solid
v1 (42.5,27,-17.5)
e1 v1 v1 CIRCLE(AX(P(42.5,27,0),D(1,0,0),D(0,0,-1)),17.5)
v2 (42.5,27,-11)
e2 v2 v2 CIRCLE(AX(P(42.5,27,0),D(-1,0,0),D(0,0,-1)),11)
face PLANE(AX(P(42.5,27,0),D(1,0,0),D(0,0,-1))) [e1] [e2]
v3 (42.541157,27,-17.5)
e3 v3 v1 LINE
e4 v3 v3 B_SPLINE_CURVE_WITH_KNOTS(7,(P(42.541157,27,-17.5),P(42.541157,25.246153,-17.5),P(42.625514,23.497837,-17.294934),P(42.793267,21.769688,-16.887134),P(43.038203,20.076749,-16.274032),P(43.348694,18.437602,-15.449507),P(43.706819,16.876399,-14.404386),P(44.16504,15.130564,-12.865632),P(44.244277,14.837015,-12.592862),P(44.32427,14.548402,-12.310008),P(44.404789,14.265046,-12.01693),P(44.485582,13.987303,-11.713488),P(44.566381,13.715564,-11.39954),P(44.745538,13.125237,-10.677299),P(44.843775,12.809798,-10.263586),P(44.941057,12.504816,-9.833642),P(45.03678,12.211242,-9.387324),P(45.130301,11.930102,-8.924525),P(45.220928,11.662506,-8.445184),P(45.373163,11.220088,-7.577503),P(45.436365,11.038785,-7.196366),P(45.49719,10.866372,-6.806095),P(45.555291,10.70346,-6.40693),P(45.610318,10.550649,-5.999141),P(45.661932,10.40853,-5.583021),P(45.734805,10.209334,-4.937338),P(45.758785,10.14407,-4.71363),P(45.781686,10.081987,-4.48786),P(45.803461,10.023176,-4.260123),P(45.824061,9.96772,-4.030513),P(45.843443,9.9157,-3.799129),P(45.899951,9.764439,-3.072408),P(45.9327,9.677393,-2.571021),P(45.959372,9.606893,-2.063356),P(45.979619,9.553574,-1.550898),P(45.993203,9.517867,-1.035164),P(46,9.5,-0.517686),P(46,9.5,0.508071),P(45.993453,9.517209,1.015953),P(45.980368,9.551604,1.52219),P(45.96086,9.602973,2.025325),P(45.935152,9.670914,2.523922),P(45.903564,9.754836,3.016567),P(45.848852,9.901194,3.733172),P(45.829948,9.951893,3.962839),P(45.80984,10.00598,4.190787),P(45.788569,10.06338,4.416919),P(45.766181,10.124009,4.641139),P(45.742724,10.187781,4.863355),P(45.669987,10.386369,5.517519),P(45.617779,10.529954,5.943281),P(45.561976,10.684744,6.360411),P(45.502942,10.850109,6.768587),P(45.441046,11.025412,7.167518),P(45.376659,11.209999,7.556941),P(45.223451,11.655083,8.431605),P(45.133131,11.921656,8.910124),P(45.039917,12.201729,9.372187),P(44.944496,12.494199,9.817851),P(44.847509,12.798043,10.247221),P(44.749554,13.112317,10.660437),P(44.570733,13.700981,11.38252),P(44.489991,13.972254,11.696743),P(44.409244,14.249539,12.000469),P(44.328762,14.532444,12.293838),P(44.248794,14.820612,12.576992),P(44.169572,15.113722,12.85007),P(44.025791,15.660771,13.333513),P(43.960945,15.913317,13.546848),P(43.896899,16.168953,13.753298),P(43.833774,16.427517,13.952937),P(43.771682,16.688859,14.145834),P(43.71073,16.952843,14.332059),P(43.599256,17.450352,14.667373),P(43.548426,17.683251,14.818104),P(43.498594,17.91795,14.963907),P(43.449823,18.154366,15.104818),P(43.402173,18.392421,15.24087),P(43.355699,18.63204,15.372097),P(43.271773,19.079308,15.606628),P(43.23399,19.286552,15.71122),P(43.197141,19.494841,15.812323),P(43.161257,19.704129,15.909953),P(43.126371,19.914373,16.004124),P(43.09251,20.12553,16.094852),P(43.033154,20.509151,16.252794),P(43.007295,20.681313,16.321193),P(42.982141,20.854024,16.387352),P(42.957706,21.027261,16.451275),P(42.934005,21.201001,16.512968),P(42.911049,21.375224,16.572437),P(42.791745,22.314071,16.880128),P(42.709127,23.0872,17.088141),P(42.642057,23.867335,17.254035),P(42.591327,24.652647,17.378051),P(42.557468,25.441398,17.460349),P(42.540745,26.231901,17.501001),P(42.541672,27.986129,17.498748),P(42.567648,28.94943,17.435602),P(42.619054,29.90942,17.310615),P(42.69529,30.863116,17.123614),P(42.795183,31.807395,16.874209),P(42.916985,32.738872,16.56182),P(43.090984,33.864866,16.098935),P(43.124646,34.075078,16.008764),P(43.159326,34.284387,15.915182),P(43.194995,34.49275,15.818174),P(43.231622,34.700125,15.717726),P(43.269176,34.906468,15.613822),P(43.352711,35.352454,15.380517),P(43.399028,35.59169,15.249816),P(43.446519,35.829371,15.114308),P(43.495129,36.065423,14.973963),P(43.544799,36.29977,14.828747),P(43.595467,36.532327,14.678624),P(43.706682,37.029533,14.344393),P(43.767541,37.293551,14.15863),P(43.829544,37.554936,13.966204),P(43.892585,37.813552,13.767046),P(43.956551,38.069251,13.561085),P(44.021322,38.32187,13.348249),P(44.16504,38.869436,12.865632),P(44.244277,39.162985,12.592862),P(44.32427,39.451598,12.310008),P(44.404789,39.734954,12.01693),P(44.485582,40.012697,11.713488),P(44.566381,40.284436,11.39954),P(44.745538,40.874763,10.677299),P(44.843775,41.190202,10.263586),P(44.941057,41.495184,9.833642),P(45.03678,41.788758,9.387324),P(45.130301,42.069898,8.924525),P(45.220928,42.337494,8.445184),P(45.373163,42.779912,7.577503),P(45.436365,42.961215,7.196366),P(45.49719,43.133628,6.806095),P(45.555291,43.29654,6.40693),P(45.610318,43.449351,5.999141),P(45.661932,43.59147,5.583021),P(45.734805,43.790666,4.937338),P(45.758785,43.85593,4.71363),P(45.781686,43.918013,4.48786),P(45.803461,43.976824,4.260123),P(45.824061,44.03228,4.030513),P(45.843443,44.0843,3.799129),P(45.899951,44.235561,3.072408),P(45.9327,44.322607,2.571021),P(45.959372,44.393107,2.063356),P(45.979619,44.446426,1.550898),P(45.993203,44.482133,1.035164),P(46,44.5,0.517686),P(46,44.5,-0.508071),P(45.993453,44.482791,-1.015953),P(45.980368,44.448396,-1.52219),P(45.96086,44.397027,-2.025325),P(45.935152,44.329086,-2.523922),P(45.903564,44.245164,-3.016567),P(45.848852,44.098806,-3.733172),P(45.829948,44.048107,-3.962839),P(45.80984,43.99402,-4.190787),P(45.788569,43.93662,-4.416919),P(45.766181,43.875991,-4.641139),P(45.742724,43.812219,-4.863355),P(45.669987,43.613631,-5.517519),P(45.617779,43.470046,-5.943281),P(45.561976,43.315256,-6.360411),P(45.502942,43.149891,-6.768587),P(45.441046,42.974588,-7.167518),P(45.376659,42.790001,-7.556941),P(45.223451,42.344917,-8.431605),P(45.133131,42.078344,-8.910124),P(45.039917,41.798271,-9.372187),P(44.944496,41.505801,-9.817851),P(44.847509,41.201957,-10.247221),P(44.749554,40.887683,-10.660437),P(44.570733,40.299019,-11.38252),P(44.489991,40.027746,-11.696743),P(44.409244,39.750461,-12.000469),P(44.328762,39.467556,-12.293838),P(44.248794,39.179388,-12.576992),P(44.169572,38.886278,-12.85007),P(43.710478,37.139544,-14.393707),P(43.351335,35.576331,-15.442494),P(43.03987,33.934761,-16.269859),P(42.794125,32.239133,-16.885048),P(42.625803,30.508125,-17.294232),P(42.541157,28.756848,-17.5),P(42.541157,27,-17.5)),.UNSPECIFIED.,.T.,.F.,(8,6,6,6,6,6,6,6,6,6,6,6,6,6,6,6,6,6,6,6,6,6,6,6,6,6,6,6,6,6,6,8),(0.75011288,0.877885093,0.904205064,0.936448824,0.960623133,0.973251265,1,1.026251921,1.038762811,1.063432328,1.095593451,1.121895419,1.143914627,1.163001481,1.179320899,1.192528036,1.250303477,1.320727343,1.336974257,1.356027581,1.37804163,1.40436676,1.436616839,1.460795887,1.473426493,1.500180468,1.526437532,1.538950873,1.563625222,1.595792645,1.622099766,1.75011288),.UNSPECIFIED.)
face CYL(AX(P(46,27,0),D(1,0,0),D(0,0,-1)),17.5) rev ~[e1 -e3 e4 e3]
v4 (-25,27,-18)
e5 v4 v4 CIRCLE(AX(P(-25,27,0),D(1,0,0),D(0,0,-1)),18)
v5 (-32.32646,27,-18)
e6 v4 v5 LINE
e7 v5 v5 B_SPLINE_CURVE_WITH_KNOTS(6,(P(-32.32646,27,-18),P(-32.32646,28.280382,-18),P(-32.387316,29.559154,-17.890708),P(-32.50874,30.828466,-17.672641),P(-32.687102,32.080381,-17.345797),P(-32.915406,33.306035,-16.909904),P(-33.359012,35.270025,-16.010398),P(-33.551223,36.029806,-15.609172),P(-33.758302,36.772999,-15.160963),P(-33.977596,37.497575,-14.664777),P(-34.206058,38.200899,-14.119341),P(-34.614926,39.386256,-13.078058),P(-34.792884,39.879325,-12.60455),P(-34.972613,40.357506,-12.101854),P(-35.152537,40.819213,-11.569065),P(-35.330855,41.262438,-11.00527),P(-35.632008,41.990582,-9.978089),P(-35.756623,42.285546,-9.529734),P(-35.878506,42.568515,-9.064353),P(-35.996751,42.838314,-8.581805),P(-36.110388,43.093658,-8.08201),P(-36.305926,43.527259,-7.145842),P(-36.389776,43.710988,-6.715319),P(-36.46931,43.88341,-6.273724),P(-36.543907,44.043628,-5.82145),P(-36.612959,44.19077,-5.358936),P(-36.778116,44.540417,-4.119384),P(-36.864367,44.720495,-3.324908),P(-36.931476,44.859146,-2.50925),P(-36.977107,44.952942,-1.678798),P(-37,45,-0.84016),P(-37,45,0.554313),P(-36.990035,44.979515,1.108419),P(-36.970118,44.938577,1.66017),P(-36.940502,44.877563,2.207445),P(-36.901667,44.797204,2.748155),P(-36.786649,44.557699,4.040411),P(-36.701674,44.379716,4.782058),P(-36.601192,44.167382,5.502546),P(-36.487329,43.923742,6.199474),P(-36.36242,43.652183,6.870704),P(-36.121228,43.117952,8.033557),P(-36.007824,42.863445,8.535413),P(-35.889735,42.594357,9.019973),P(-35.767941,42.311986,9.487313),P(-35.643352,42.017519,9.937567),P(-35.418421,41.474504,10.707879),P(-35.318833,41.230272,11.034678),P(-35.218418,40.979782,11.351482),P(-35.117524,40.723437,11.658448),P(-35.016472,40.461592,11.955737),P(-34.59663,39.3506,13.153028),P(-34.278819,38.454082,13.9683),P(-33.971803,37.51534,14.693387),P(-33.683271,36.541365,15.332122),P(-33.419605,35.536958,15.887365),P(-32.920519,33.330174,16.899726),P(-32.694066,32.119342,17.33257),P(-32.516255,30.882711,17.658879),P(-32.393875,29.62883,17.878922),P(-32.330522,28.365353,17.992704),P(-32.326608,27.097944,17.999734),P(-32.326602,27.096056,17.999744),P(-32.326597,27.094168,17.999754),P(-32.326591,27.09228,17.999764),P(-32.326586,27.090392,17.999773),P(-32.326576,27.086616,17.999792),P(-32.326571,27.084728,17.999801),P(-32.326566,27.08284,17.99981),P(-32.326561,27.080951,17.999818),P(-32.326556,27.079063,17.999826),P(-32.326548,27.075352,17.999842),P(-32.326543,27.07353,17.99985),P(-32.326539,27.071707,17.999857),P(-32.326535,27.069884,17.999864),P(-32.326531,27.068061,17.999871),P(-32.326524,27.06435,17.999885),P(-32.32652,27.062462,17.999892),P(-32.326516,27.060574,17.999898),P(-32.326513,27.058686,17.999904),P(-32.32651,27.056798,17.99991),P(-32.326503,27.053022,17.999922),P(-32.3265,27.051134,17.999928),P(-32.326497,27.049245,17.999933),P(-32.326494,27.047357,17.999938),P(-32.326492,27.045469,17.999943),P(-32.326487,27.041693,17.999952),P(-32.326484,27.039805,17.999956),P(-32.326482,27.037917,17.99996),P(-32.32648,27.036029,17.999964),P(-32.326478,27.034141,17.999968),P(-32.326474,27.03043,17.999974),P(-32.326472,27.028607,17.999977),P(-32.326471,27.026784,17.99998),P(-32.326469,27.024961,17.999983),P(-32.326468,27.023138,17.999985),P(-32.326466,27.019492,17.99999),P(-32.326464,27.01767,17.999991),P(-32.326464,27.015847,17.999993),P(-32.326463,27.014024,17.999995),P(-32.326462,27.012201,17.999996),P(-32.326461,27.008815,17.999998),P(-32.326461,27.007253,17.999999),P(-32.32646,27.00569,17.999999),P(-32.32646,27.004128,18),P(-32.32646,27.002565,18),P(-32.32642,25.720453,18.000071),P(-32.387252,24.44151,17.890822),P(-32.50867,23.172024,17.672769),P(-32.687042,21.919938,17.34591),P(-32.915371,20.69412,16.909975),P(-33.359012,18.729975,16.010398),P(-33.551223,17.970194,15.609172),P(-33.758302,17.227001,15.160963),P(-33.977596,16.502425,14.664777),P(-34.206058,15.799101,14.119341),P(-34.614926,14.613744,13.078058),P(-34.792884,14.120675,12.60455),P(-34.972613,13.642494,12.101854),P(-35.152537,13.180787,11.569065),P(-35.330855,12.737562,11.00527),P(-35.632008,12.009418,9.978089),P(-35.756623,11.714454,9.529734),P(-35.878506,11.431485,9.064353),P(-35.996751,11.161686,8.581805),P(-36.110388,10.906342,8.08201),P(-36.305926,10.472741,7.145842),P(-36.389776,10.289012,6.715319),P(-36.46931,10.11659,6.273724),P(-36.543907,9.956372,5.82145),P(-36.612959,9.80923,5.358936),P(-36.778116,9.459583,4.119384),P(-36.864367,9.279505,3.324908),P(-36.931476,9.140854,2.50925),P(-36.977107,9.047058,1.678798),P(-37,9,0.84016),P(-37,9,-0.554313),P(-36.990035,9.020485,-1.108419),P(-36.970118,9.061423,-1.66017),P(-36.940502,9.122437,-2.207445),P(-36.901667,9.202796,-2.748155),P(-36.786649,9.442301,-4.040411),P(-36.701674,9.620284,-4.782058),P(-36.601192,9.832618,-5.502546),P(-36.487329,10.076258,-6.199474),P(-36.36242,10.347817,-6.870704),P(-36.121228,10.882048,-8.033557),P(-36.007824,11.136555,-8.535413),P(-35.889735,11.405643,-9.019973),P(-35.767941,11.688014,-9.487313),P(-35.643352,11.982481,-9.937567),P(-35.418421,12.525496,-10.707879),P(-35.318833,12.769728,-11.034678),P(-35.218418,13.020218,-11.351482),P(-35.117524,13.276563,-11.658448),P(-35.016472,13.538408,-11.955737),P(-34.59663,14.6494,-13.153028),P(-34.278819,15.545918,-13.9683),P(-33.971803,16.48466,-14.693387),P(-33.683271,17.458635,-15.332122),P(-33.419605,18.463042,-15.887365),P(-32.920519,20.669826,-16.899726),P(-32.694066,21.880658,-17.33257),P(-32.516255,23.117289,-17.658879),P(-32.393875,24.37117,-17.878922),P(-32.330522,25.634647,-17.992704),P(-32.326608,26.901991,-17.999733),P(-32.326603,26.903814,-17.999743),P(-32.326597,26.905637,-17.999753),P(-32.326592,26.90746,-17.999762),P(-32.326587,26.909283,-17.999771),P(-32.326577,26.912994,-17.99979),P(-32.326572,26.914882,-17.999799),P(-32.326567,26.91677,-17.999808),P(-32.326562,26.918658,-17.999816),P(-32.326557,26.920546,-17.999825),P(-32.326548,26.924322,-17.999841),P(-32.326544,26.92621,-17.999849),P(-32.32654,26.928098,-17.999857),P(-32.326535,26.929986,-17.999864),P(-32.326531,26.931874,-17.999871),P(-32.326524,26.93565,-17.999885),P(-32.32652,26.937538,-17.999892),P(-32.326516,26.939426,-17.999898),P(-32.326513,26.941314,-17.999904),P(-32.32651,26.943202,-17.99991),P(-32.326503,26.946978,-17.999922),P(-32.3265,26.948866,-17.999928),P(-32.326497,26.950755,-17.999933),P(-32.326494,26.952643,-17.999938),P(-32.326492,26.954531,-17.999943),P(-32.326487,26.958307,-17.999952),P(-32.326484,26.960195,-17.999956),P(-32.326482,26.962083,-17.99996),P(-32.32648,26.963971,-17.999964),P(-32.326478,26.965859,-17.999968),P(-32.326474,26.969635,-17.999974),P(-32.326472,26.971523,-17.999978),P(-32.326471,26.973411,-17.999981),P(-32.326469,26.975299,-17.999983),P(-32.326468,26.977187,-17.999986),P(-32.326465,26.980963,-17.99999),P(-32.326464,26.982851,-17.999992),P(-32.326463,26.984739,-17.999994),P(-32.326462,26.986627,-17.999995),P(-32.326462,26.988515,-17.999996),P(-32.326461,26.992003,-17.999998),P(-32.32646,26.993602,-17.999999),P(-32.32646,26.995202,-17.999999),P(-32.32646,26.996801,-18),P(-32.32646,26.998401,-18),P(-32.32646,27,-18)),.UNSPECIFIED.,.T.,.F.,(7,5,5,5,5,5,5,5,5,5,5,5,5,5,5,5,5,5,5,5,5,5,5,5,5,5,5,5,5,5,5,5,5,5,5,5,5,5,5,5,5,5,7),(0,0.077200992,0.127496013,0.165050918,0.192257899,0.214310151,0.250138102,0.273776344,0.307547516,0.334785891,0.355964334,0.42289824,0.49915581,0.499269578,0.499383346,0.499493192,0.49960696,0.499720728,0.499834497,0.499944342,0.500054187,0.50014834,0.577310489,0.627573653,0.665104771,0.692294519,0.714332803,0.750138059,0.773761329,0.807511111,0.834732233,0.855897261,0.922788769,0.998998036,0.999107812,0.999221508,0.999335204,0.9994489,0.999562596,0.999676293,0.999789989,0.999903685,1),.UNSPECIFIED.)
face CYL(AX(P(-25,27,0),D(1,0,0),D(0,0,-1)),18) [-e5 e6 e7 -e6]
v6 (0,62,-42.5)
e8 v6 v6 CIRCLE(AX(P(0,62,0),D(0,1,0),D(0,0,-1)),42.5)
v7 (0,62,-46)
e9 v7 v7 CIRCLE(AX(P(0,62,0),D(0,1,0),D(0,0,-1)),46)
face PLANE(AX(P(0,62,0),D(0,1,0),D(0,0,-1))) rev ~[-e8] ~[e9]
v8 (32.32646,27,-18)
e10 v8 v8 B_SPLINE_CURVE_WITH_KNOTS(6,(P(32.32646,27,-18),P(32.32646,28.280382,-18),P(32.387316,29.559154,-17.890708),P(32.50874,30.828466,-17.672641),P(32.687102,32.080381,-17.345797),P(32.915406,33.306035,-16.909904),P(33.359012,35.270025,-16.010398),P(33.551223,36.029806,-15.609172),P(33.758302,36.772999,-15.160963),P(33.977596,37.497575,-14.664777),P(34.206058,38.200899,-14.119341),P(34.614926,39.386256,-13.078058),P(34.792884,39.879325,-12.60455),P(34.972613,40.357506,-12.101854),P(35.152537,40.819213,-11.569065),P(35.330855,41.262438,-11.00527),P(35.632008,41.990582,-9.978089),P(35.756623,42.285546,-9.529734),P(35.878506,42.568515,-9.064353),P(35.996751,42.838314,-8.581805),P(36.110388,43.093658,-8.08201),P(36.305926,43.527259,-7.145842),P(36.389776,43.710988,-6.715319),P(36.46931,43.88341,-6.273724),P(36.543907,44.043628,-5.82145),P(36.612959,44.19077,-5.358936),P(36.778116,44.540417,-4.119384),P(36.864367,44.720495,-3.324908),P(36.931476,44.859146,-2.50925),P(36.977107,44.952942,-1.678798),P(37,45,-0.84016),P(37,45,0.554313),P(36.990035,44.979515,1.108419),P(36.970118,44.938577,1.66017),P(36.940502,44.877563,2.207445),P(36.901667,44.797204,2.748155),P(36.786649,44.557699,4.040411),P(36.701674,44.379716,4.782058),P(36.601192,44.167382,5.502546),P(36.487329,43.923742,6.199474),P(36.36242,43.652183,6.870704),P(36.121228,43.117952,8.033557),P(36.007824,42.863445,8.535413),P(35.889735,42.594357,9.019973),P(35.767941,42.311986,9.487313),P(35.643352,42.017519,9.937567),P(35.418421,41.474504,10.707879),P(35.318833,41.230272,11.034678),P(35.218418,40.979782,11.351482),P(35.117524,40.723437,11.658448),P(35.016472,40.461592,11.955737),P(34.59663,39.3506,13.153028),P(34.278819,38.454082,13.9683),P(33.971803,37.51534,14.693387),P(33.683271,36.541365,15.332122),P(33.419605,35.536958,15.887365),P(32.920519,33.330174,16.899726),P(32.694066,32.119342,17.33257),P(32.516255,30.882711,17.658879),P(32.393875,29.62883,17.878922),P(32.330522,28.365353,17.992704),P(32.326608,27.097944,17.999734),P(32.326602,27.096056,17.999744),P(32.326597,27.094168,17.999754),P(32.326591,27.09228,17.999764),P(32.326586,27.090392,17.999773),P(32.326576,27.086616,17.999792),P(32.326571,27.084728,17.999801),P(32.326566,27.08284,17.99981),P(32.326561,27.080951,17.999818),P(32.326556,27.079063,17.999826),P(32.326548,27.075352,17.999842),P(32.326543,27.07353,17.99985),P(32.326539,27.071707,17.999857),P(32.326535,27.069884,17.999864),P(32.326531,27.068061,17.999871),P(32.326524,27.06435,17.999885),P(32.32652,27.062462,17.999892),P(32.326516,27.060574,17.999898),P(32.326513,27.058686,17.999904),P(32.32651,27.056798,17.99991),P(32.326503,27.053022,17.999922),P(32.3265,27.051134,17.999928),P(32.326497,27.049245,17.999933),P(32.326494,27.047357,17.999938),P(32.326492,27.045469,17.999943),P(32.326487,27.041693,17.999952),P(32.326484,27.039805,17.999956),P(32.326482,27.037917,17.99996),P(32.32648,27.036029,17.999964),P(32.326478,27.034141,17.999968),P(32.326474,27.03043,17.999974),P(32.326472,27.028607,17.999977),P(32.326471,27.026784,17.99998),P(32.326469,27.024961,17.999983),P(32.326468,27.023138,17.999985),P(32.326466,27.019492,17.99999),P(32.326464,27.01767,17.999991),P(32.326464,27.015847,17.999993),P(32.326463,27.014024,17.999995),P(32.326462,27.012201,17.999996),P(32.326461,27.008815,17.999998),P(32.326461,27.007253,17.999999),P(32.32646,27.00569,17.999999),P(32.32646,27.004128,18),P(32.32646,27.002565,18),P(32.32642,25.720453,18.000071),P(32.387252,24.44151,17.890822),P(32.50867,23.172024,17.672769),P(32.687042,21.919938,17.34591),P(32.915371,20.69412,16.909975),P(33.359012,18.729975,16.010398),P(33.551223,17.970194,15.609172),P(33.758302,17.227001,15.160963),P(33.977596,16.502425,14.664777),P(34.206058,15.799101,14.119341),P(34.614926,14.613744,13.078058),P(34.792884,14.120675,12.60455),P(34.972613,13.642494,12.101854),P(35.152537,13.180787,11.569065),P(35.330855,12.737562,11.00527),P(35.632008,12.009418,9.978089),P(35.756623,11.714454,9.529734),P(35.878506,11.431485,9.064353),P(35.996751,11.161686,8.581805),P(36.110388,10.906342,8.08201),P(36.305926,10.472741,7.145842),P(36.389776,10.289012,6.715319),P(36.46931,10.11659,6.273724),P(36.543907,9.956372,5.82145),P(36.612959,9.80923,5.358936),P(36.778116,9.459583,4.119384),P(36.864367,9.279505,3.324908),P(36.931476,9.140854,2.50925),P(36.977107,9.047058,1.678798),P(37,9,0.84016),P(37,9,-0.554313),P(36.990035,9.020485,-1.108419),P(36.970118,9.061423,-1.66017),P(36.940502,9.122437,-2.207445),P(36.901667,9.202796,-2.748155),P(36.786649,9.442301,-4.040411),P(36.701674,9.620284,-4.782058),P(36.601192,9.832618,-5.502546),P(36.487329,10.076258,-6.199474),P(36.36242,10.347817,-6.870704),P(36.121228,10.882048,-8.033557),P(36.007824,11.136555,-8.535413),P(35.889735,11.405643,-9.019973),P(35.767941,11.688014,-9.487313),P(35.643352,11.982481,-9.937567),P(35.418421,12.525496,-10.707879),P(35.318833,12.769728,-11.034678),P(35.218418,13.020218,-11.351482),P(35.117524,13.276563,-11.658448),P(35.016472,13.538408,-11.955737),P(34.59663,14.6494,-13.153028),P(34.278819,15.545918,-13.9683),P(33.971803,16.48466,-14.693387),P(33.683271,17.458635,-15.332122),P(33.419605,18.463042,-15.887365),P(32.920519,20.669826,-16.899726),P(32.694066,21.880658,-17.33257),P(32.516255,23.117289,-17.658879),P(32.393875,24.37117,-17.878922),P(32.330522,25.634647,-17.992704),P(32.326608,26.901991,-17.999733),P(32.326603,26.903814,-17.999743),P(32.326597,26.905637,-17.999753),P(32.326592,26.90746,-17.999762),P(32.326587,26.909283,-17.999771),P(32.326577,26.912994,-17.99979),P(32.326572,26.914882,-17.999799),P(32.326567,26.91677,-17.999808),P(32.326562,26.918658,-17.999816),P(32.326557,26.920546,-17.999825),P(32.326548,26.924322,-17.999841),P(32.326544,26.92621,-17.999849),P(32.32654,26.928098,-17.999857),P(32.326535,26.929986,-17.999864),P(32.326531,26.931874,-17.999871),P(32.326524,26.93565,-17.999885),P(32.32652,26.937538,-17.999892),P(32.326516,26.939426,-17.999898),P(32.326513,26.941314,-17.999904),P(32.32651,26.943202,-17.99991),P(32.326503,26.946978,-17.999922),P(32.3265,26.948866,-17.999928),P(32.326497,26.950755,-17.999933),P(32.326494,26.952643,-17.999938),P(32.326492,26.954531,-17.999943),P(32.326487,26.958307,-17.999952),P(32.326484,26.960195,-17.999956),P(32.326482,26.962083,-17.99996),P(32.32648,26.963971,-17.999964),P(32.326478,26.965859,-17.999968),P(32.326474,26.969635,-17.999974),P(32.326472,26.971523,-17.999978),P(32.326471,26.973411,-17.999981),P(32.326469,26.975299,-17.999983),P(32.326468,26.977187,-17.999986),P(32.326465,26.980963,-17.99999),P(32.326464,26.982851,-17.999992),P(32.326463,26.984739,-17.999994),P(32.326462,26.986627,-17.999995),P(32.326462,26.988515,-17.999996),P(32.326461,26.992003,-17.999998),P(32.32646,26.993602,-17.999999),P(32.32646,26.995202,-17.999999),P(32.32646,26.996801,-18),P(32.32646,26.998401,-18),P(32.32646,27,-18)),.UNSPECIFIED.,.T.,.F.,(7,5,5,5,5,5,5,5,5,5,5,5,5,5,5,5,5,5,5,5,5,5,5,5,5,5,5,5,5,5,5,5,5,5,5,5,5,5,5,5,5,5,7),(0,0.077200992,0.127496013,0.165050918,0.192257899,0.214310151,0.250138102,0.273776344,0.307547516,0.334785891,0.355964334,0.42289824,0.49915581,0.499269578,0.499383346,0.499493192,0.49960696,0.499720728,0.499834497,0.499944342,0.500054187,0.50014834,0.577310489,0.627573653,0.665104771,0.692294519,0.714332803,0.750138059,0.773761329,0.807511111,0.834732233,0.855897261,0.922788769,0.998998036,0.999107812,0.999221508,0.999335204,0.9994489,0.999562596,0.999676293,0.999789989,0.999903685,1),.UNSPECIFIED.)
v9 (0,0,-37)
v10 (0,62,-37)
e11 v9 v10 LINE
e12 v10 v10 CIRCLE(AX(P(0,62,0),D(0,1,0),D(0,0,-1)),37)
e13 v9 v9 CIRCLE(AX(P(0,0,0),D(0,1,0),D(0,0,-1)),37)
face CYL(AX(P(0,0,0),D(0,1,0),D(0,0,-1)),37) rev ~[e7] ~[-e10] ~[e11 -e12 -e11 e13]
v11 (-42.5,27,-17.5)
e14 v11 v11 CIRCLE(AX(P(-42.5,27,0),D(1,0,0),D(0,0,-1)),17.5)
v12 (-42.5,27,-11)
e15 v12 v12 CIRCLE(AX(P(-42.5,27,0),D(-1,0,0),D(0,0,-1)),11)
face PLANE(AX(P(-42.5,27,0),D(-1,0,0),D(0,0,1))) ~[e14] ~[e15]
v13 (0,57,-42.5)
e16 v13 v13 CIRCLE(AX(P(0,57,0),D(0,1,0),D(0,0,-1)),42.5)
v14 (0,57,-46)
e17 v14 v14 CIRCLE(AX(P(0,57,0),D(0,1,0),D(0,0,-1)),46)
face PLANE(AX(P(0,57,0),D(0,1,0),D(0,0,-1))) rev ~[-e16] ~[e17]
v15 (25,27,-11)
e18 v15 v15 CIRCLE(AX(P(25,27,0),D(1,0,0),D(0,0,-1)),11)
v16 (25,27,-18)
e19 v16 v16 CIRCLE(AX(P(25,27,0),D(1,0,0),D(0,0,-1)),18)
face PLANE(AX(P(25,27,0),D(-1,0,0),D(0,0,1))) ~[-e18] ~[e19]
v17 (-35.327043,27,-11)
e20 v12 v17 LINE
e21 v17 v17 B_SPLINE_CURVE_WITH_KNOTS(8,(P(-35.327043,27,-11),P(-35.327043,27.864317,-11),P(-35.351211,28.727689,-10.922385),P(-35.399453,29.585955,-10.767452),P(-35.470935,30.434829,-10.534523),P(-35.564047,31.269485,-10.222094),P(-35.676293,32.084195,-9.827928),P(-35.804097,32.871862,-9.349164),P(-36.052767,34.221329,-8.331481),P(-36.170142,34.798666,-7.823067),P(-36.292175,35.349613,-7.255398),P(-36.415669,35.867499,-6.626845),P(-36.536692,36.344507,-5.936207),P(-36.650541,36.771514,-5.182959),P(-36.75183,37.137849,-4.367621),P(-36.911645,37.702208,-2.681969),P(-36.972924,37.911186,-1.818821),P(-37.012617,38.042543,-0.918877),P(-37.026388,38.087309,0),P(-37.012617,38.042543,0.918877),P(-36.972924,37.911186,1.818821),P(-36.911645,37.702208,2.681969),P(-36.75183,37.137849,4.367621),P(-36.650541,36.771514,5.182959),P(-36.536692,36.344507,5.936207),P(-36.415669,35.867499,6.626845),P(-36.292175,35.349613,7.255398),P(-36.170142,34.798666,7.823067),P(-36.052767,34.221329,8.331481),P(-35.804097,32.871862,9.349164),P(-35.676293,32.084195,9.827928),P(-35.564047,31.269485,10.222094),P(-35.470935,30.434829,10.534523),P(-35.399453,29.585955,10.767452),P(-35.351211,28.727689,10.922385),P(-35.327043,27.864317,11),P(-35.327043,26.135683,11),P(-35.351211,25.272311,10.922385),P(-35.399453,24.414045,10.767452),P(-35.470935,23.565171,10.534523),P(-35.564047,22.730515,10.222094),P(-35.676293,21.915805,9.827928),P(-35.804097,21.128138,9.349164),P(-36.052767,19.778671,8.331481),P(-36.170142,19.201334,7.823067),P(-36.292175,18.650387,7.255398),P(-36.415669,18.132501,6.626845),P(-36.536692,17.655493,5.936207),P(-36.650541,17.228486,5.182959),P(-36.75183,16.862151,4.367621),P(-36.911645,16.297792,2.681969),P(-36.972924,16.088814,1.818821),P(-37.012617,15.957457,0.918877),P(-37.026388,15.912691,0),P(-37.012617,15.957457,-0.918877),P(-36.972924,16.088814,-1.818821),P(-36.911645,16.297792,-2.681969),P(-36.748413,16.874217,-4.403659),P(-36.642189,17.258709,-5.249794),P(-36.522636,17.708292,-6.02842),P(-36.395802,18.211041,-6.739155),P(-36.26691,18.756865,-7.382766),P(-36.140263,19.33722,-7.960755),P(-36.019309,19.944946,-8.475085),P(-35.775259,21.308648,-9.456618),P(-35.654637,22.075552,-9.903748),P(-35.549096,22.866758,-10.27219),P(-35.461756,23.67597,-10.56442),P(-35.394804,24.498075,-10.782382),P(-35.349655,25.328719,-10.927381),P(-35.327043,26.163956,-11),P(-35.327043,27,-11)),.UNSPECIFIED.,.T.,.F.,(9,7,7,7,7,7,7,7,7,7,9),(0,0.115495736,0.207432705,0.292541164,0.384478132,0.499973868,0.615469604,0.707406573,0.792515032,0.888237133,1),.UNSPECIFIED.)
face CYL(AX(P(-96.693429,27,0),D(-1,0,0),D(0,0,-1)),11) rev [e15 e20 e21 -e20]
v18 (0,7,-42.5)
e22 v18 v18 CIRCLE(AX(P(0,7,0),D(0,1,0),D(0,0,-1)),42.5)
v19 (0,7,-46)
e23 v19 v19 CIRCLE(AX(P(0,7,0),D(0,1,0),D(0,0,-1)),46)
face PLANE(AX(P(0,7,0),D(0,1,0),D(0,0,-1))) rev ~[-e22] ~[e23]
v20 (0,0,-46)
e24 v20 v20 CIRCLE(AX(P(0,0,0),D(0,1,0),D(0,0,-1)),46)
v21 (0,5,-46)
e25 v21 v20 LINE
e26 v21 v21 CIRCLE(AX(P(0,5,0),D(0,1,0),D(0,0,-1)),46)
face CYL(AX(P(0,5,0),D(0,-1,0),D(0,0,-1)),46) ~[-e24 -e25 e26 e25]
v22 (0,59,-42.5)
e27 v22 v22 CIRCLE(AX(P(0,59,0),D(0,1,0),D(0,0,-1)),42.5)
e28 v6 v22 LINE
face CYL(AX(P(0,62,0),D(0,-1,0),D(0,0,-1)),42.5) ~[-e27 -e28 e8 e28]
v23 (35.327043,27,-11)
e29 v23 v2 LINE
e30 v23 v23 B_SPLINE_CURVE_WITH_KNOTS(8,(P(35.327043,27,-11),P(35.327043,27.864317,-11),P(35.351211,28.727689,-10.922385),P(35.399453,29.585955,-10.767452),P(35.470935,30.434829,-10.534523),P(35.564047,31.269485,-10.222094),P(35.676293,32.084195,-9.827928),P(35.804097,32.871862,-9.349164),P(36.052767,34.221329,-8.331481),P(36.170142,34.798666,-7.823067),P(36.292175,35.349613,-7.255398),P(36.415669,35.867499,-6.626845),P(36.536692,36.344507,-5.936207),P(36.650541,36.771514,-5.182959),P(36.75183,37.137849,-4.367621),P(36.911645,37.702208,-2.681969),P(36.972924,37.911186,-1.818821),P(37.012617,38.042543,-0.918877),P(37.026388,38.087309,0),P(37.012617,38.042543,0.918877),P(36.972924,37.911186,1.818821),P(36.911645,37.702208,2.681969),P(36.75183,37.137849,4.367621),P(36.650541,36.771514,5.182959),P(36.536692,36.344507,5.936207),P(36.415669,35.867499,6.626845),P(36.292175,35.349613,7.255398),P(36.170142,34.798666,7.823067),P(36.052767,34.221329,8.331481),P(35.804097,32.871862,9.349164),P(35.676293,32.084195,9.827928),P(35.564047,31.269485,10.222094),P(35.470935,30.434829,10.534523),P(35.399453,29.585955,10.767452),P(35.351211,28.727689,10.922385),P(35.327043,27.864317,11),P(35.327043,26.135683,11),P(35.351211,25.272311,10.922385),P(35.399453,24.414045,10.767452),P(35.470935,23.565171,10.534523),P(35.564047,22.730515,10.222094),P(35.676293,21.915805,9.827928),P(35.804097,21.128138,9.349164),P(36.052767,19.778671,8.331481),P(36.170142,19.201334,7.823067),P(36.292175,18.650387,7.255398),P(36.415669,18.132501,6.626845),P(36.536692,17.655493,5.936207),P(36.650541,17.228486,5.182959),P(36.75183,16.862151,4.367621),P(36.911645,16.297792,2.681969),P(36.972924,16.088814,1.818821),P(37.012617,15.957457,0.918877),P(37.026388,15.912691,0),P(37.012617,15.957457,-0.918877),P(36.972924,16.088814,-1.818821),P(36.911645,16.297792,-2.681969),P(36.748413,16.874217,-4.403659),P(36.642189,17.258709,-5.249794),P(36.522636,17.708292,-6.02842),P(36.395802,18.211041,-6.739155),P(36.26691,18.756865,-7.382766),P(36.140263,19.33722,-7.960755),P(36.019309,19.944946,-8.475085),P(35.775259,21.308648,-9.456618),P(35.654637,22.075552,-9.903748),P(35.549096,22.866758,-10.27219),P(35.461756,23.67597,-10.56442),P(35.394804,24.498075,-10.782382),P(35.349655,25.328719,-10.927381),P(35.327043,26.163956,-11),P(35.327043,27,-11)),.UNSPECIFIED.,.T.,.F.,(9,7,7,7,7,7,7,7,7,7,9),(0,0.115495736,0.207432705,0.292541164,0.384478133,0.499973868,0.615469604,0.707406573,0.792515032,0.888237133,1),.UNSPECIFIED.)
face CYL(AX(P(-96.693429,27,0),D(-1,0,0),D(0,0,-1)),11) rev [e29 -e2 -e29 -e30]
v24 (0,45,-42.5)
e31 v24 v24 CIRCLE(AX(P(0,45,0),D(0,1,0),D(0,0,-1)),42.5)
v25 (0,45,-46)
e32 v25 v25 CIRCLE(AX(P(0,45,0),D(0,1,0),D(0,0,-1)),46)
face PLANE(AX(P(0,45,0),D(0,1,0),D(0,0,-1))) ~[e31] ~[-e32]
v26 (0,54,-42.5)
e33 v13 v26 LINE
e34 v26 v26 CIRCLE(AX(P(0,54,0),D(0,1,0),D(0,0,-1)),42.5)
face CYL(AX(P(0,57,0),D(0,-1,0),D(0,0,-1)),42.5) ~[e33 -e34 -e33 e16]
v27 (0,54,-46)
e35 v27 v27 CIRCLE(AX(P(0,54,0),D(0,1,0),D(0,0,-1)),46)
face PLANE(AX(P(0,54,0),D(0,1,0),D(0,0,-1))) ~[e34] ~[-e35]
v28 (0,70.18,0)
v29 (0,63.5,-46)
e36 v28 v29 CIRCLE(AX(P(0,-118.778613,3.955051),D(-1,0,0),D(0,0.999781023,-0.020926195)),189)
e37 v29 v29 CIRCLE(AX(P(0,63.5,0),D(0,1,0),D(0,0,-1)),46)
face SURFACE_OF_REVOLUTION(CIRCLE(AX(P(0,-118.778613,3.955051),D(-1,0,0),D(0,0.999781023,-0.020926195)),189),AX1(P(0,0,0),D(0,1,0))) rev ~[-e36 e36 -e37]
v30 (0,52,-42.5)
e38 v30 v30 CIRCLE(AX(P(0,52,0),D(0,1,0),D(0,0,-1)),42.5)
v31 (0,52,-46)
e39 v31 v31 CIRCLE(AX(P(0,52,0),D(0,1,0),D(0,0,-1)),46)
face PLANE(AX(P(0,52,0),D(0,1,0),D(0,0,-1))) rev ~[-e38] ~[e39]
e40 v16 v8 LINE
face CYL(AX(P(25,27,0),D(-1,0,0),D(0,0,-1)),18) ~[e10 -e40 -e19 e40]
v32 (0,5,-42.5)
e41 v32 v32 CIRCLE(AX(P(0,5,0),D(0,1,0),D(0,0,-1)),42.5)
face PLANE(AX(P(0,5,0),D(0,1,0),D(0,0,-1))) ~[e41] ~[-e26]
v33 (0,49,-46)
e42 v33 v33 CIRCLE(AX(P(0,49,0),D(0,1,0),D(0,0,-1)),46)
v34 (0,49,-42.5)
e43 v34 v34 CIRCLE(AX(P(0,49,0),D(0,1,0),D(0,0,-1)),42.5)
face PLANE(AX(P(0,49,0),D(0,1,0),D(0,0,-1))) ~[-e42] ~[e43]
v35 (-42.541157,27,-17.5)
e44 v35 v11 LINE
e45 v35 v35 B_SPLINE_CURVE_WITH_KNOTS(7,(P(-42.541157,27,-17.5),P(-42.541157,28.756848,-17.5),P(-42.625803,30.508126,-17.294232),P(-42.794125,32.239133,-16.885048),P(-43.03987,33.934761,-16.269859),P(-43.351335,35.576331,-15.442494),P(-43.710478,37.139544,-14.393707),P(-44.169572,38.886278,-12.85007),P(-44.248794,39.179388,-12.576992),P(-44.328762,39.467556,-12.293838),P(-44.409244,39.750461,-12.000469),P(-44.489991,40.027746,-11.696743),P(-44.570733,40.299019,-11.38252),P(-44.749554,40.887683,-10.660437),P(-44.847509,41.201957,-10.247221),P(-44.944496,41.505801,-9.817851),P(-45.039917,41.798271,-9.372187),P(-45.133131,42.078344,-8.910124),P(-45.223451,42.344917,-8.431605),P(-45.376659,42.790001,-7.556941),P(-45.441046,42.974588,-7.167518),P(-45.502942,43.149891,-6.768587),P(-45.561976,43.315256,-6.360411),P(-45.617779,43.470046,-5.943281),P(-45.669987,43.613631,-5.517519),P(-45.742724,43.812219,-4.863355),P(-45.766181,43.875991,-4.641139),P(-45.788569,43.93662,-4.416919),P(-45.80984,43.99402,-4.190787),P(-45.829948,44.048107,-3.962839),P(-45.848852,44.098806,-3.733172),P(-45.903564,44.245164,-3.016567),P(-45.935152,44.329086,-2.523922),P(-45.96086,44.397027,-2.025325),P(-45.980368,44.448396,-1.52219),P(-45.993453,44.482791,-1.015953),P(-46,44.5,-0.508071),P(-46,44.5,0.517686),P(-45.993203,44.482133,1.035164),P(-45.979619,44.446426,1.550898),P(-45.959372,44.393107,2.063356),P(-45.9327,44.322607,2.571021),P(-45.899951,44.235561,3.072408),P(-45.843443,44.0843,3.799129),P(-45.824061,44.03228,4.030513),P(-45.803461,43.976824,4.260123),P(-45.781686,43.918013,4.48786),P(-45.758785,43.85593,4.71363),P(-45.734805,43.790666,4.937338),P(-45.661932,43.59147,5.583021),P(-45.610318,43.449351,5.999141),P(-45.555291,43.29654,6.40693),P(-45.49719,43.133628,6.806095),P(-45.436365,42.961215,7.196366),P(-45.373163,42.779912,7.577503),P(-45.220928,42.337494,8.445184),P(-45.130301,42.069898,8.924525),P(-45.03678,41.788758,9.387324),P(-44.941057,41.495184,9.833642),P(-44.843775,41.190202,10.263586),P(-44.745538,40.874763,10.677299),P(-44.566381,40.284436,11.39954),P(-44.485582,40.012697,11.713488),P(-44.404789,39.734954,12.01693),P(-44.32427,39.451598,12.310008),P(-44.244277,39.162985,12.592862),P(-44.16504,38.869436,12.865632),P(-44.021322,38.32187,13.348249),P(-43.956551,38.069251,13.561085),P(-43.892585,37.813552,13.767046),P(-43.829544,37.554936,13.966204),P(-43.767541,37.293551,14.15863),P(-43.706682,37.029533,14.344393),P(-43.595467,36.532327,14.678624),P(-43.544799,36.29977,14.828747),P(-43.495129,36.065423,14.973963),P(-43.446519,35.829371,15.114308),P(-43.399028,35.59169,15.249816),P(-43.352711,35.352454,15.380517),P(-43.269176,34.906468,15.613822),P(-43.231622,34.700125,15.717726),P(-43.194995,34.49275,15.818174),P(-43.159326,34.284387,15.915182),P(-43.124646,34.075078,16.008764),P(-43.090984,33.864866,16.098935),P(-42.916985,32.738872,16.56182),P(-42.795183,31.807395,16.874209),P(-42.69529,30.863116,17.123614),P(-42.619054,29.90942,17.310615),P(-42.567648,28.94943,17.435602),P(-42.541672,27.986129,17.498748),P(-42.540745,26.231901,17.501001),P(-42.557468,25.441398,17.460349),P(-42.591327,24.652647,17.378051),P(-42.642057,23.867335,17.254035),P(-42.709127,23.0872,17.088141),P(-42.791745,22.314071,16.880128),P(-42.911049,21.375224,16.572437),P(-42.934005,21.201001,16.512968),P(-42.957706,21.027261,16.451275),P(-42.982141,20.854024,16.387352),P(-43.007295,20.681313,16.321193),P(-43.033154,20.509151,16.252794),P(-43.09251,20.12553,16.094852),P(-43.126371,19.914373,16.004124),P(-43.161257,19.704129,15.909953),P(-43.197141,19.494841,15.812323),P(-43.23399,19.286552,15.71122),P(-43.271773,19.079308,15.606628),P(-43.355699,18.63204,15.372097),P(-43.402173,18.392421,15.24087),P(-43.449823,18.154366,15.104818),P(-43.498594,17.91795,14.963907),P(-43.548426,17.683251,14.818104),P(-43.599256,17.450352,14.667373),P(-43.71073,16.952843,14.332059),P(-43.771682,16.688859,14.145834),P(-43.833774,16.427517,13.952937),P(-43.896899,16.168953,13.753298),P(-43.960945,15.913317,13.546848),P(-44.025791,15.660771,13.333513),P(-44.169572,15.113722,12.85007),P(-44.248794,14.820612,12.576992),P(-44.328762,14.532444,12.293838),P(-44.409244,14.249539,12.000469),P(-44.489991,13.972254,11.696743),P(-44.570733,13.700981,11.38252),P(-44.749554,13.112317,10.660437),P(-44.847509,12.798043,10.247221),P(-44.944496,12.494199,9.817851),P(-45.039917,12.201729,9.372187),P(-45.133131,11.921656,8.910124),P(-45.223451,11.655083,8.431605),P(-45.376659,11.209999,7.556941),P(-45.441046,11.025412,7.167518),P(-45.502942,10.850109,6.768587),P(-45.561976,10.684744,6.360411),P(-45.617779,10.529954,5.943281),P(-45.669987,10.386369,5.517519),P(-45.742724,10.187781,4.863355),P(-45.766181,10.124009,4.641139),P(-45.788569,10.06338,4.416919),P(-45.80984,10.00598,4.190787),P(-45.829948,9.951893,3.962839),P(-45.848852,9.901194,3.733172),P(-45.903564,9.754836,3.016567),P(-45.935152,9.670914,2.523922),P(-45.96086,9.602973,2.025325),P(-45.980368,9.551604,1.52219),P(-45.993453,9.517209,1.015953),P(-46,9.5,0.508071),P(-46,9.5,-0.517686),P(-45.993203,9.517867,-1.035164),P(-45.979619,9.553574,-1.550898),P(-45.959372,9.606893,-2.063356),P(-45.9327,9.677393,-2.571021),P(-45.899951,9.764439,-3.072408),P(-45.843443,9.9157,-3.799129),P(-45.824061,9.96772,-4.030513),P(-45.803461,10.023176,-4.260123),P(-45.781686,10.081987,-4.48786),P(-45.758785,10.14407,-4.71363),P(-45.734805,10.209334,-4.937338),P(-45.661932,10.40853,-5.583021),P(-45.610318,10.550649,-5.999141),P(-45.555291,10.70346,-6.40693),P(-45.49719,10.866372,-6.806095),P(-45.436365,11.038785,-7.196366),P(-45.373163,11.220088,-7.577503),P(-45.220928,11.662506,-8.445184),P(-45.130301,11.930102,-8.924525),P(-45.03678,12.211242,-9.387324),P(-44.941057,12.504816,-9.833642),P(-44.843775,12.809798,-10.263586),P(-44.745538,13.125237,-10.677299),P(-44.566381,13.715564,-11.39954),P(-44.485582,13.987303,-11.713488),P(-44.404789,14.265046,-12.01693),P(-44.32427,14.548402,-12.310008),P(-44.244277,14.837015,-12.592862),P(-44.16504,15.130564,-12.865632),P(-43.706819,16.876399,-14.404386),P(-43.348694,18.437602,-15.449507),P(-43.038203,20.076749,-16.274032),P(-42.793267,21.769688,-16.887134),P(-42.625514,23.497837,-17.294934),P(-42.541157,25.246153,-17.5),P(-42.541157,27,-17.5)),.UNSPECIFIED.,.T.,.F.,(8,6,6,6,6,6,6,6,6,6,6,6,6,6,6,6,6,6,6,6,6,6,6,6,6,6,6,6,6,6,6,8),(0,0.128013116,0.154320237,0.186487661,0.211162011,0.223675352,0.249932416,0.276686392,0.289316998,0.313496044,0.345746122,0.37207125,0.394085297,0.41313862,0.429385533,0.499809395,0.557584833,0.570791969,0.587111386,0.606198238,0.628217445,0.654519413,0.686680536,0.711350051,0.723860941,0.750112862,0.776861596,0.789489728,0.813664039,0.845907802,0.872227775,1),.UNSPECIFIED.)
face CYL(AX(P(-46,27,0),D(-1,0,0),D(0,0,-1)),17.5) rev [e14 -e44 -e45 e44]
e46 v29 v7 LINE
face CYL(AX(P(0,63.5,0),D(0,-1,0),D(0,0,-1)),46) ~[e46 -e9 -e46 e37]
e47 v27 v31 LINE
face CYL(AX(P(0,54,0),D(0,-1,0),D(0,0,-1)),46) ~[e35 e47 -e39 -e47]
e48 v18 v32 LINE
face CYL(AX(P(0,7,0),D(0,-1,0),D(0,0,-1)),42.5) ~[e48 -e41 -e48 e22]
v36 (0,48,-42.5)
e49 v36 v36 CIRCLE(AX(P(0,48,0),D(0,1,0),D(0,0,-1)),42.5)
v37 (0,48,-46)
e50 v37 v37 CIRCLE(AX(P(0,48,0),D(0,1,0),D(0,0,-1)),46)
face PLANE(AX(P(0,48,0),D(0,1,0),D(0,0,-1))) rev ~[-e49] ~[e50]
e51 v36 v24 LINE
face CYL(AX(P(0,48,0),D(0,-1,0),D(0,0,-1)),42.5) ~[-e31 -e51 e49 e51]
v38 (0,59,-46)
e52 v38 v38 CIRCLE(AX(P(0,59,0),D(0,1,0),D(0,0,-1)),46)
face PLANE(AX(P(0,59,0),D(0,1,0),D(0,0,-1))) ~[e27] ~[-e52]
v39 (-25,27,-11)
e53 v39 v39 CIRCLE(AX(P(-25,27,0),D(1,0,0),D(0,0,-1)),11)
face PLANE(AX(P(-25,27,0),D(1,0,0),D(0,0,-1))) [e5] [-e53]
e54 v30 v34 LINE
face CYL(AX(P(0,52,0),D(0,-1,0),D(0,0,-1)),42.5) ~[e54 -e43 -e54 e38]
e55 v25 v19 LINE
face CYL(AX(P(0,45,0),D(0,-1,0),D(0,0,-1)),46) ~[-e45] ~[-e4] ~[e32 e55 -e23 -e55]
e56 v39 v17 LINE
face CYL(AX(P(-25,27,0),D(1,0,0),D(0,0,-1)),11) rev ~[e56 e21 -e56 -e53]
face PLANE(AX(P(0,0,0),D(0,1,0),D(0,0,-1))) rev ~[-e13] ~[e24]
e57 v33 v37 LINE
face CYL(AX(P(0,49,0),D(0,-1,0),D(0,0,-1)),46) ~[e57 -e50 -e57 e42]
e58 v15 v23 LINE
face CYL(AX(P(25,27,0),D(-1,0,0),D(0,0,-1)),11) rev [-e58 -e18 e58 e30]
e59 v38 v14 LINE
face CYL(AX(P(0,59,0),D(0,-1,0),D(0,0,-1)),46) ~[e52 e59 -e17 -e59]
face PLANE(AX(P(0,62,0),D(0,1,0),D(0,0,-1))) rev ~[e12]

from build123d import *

# Parameters (mm, degrees)
CUT_EXTRUDE1_DEPTH       = 96.693429411
CUT_EXTRUDE1_DEPTH_BACK  = 96.693429411
SKETCH2_R                = 11
CUT_EXTRUDE6_START       = 46
SKETCH3_R                = 17.5
CUT_EXTRUDE6_DEPTH       = 3.5
BOSS_EXTRUDE1_REACH      = 122.693
BOSS_EXTRUDE1_END_RADIUS = 37
BOSS_EXTRUDE1_START      = -25
SKETCH4_R                = 18
SKETCH4_R_2              = 11


with BuildPart() as part:
    # Sketch1 → Revolve1 (revolve)
    with BuildSketch(Plane.XY, mode=Mode.PRIVATE) as revolve1_sk:
        with BuildLine():
            Line((-46, 63.5), (-46, 62))
            Line((-46, 62), (-42.5, 62))
            Line((-42.5, 62), (-42.5, 59))
            Line((-42.5, 59), (-46, 59))
            Line((-46, 59), (-46, 57))
            Line((-46, 57), (-42.5, 57))
            Line((-42.5, 57), (-42.5, 54))
            Line((-42.5, 54), (-46, 54))
            Line((-46, 54), (-46, 52))
            Line((-46, 52), (-42.5, 52))
            Line((-42.5, 52), (-42.5, 49))
            Line((-42.5, 49), (-46, 49))
            Line((-46, 49), (-46, 48))
            Line((-46, 48), (-42.5, 48))
            Line((-42.5, 48), (-42.5, 45))
            Line((-42.5, 45), (-46, 45))
            Line((-46, 45), (-46, 7))
            Line((-46, 7), (-42.5, 7))
            Line((-42.5, 7), (-42.5, 5))
            Line((-42.5, 5), (-46, 5))
            Line((-46, 5), (-46, 0))
            Line((-46, 0), (-37, 0))
            Line((-37, 0), (-37, 62))
            Line((-37, 62), (0, 62))
            Line((0, 62), (0, 70.18))
            ThreePointArc((0, 70.18), (-23.206141435, 68.259536828), (-46, 63.5))
        make_face()
    revolve(revolve1_sk.sketch.rotate(Axis((0, 0, 0), (0, 1, 0)), 270), axis=Axis((0, 0, 0), (0, 1, 0)))

    # Sketch2 → Cut-Extrude1 (cut, two sides: drawn at the far end of the back side and taken through both)
    with BuildSketch(Plane(origin=(0, 0, 0), x_dir=(0, 0, -1), z_dir=(1, 0, 0)).offset(-CUT_EXTRUDE1_DEPTH_BACK)):
        with Locations((0, 27)):
            Circle(SKETCH2_R)
    extrude(amount=CUT_EXTRUDE1_DEPTH + CUT_EXTRUDE1_DEPTH_BACK, mode=Mode.SUBTRACT)

    # Sketch3 → Cut-Extrude6 (cut)
    with BuildSketch(Plane(origin=(0, 0, 0), x_dir=(0, 0, -1), z_dir=(1, 0, 0)).offset(CUT_EXTRUDE6_START)):
        with Locations((0, 27)):
            Circle(SKETCH3_R)
    cut_extrude6 = extrude(amount=-CUT_EXTRUDE6_DEPTH, mode=Mode.SUBTRACT)

    # Mirror1: Cut-Extrude6 across plane
    add(cut_extrude6.mirror(Plane(origin=(0, 0, 0), x_dir=(0, 0, 1), z_dir=(1, 0, 0))), mode=Mode.SUBTRACT)

    # Boss-Extrude1: up to this cylinder (the profile starts inside it)
    boss_extrude1_end = Plane(origin=(0, 27, 0), z_dir=(0, -1, 0)) * Cylinder(BOSS_EXTRUDE1_END_RADIUS, 320.386, mode=Mode.PRIVATE)
    # Sketch4 → Boss-Extrude1 (add, up to the surface)
    with BuildSketch(Plane(origin=(0, 0, 0), x_dir=(0, 0, -1), z_dir=(1, 0, 0)).offset(BOSS_EXTRUDE1_START), mode=Mode.PRIVATE) as boss_extrude1_sk1:
        with Locations((0, 27)):
            Circle(SKETCH4_R)
        with Locations((0, 27)):
            Circle(SKETCH4_R_2, mode=Mode.SUBTRACT)
    boss_extrude1_tool1 = extrude(boss_extrude1_sk1.sketch, amount=-BOSS_EXTRUDE1_REACH, mode=Mode.PRIVATE) & boss_extrude1_end
    boss_extrude1 = boss_extrude1_tool1.solids().sort_by_distance((-25, 27, 17.490883))[0]
    add(boss_extrude1)

    # Mirror2: Boss-Extrude1 across plane
    add(boss_extrude1.mirror(Plane(origin=(0, 0, 0), x_dir=(0, 0, 1), z_dir=(1, 0, 0))))


solid = part.part
